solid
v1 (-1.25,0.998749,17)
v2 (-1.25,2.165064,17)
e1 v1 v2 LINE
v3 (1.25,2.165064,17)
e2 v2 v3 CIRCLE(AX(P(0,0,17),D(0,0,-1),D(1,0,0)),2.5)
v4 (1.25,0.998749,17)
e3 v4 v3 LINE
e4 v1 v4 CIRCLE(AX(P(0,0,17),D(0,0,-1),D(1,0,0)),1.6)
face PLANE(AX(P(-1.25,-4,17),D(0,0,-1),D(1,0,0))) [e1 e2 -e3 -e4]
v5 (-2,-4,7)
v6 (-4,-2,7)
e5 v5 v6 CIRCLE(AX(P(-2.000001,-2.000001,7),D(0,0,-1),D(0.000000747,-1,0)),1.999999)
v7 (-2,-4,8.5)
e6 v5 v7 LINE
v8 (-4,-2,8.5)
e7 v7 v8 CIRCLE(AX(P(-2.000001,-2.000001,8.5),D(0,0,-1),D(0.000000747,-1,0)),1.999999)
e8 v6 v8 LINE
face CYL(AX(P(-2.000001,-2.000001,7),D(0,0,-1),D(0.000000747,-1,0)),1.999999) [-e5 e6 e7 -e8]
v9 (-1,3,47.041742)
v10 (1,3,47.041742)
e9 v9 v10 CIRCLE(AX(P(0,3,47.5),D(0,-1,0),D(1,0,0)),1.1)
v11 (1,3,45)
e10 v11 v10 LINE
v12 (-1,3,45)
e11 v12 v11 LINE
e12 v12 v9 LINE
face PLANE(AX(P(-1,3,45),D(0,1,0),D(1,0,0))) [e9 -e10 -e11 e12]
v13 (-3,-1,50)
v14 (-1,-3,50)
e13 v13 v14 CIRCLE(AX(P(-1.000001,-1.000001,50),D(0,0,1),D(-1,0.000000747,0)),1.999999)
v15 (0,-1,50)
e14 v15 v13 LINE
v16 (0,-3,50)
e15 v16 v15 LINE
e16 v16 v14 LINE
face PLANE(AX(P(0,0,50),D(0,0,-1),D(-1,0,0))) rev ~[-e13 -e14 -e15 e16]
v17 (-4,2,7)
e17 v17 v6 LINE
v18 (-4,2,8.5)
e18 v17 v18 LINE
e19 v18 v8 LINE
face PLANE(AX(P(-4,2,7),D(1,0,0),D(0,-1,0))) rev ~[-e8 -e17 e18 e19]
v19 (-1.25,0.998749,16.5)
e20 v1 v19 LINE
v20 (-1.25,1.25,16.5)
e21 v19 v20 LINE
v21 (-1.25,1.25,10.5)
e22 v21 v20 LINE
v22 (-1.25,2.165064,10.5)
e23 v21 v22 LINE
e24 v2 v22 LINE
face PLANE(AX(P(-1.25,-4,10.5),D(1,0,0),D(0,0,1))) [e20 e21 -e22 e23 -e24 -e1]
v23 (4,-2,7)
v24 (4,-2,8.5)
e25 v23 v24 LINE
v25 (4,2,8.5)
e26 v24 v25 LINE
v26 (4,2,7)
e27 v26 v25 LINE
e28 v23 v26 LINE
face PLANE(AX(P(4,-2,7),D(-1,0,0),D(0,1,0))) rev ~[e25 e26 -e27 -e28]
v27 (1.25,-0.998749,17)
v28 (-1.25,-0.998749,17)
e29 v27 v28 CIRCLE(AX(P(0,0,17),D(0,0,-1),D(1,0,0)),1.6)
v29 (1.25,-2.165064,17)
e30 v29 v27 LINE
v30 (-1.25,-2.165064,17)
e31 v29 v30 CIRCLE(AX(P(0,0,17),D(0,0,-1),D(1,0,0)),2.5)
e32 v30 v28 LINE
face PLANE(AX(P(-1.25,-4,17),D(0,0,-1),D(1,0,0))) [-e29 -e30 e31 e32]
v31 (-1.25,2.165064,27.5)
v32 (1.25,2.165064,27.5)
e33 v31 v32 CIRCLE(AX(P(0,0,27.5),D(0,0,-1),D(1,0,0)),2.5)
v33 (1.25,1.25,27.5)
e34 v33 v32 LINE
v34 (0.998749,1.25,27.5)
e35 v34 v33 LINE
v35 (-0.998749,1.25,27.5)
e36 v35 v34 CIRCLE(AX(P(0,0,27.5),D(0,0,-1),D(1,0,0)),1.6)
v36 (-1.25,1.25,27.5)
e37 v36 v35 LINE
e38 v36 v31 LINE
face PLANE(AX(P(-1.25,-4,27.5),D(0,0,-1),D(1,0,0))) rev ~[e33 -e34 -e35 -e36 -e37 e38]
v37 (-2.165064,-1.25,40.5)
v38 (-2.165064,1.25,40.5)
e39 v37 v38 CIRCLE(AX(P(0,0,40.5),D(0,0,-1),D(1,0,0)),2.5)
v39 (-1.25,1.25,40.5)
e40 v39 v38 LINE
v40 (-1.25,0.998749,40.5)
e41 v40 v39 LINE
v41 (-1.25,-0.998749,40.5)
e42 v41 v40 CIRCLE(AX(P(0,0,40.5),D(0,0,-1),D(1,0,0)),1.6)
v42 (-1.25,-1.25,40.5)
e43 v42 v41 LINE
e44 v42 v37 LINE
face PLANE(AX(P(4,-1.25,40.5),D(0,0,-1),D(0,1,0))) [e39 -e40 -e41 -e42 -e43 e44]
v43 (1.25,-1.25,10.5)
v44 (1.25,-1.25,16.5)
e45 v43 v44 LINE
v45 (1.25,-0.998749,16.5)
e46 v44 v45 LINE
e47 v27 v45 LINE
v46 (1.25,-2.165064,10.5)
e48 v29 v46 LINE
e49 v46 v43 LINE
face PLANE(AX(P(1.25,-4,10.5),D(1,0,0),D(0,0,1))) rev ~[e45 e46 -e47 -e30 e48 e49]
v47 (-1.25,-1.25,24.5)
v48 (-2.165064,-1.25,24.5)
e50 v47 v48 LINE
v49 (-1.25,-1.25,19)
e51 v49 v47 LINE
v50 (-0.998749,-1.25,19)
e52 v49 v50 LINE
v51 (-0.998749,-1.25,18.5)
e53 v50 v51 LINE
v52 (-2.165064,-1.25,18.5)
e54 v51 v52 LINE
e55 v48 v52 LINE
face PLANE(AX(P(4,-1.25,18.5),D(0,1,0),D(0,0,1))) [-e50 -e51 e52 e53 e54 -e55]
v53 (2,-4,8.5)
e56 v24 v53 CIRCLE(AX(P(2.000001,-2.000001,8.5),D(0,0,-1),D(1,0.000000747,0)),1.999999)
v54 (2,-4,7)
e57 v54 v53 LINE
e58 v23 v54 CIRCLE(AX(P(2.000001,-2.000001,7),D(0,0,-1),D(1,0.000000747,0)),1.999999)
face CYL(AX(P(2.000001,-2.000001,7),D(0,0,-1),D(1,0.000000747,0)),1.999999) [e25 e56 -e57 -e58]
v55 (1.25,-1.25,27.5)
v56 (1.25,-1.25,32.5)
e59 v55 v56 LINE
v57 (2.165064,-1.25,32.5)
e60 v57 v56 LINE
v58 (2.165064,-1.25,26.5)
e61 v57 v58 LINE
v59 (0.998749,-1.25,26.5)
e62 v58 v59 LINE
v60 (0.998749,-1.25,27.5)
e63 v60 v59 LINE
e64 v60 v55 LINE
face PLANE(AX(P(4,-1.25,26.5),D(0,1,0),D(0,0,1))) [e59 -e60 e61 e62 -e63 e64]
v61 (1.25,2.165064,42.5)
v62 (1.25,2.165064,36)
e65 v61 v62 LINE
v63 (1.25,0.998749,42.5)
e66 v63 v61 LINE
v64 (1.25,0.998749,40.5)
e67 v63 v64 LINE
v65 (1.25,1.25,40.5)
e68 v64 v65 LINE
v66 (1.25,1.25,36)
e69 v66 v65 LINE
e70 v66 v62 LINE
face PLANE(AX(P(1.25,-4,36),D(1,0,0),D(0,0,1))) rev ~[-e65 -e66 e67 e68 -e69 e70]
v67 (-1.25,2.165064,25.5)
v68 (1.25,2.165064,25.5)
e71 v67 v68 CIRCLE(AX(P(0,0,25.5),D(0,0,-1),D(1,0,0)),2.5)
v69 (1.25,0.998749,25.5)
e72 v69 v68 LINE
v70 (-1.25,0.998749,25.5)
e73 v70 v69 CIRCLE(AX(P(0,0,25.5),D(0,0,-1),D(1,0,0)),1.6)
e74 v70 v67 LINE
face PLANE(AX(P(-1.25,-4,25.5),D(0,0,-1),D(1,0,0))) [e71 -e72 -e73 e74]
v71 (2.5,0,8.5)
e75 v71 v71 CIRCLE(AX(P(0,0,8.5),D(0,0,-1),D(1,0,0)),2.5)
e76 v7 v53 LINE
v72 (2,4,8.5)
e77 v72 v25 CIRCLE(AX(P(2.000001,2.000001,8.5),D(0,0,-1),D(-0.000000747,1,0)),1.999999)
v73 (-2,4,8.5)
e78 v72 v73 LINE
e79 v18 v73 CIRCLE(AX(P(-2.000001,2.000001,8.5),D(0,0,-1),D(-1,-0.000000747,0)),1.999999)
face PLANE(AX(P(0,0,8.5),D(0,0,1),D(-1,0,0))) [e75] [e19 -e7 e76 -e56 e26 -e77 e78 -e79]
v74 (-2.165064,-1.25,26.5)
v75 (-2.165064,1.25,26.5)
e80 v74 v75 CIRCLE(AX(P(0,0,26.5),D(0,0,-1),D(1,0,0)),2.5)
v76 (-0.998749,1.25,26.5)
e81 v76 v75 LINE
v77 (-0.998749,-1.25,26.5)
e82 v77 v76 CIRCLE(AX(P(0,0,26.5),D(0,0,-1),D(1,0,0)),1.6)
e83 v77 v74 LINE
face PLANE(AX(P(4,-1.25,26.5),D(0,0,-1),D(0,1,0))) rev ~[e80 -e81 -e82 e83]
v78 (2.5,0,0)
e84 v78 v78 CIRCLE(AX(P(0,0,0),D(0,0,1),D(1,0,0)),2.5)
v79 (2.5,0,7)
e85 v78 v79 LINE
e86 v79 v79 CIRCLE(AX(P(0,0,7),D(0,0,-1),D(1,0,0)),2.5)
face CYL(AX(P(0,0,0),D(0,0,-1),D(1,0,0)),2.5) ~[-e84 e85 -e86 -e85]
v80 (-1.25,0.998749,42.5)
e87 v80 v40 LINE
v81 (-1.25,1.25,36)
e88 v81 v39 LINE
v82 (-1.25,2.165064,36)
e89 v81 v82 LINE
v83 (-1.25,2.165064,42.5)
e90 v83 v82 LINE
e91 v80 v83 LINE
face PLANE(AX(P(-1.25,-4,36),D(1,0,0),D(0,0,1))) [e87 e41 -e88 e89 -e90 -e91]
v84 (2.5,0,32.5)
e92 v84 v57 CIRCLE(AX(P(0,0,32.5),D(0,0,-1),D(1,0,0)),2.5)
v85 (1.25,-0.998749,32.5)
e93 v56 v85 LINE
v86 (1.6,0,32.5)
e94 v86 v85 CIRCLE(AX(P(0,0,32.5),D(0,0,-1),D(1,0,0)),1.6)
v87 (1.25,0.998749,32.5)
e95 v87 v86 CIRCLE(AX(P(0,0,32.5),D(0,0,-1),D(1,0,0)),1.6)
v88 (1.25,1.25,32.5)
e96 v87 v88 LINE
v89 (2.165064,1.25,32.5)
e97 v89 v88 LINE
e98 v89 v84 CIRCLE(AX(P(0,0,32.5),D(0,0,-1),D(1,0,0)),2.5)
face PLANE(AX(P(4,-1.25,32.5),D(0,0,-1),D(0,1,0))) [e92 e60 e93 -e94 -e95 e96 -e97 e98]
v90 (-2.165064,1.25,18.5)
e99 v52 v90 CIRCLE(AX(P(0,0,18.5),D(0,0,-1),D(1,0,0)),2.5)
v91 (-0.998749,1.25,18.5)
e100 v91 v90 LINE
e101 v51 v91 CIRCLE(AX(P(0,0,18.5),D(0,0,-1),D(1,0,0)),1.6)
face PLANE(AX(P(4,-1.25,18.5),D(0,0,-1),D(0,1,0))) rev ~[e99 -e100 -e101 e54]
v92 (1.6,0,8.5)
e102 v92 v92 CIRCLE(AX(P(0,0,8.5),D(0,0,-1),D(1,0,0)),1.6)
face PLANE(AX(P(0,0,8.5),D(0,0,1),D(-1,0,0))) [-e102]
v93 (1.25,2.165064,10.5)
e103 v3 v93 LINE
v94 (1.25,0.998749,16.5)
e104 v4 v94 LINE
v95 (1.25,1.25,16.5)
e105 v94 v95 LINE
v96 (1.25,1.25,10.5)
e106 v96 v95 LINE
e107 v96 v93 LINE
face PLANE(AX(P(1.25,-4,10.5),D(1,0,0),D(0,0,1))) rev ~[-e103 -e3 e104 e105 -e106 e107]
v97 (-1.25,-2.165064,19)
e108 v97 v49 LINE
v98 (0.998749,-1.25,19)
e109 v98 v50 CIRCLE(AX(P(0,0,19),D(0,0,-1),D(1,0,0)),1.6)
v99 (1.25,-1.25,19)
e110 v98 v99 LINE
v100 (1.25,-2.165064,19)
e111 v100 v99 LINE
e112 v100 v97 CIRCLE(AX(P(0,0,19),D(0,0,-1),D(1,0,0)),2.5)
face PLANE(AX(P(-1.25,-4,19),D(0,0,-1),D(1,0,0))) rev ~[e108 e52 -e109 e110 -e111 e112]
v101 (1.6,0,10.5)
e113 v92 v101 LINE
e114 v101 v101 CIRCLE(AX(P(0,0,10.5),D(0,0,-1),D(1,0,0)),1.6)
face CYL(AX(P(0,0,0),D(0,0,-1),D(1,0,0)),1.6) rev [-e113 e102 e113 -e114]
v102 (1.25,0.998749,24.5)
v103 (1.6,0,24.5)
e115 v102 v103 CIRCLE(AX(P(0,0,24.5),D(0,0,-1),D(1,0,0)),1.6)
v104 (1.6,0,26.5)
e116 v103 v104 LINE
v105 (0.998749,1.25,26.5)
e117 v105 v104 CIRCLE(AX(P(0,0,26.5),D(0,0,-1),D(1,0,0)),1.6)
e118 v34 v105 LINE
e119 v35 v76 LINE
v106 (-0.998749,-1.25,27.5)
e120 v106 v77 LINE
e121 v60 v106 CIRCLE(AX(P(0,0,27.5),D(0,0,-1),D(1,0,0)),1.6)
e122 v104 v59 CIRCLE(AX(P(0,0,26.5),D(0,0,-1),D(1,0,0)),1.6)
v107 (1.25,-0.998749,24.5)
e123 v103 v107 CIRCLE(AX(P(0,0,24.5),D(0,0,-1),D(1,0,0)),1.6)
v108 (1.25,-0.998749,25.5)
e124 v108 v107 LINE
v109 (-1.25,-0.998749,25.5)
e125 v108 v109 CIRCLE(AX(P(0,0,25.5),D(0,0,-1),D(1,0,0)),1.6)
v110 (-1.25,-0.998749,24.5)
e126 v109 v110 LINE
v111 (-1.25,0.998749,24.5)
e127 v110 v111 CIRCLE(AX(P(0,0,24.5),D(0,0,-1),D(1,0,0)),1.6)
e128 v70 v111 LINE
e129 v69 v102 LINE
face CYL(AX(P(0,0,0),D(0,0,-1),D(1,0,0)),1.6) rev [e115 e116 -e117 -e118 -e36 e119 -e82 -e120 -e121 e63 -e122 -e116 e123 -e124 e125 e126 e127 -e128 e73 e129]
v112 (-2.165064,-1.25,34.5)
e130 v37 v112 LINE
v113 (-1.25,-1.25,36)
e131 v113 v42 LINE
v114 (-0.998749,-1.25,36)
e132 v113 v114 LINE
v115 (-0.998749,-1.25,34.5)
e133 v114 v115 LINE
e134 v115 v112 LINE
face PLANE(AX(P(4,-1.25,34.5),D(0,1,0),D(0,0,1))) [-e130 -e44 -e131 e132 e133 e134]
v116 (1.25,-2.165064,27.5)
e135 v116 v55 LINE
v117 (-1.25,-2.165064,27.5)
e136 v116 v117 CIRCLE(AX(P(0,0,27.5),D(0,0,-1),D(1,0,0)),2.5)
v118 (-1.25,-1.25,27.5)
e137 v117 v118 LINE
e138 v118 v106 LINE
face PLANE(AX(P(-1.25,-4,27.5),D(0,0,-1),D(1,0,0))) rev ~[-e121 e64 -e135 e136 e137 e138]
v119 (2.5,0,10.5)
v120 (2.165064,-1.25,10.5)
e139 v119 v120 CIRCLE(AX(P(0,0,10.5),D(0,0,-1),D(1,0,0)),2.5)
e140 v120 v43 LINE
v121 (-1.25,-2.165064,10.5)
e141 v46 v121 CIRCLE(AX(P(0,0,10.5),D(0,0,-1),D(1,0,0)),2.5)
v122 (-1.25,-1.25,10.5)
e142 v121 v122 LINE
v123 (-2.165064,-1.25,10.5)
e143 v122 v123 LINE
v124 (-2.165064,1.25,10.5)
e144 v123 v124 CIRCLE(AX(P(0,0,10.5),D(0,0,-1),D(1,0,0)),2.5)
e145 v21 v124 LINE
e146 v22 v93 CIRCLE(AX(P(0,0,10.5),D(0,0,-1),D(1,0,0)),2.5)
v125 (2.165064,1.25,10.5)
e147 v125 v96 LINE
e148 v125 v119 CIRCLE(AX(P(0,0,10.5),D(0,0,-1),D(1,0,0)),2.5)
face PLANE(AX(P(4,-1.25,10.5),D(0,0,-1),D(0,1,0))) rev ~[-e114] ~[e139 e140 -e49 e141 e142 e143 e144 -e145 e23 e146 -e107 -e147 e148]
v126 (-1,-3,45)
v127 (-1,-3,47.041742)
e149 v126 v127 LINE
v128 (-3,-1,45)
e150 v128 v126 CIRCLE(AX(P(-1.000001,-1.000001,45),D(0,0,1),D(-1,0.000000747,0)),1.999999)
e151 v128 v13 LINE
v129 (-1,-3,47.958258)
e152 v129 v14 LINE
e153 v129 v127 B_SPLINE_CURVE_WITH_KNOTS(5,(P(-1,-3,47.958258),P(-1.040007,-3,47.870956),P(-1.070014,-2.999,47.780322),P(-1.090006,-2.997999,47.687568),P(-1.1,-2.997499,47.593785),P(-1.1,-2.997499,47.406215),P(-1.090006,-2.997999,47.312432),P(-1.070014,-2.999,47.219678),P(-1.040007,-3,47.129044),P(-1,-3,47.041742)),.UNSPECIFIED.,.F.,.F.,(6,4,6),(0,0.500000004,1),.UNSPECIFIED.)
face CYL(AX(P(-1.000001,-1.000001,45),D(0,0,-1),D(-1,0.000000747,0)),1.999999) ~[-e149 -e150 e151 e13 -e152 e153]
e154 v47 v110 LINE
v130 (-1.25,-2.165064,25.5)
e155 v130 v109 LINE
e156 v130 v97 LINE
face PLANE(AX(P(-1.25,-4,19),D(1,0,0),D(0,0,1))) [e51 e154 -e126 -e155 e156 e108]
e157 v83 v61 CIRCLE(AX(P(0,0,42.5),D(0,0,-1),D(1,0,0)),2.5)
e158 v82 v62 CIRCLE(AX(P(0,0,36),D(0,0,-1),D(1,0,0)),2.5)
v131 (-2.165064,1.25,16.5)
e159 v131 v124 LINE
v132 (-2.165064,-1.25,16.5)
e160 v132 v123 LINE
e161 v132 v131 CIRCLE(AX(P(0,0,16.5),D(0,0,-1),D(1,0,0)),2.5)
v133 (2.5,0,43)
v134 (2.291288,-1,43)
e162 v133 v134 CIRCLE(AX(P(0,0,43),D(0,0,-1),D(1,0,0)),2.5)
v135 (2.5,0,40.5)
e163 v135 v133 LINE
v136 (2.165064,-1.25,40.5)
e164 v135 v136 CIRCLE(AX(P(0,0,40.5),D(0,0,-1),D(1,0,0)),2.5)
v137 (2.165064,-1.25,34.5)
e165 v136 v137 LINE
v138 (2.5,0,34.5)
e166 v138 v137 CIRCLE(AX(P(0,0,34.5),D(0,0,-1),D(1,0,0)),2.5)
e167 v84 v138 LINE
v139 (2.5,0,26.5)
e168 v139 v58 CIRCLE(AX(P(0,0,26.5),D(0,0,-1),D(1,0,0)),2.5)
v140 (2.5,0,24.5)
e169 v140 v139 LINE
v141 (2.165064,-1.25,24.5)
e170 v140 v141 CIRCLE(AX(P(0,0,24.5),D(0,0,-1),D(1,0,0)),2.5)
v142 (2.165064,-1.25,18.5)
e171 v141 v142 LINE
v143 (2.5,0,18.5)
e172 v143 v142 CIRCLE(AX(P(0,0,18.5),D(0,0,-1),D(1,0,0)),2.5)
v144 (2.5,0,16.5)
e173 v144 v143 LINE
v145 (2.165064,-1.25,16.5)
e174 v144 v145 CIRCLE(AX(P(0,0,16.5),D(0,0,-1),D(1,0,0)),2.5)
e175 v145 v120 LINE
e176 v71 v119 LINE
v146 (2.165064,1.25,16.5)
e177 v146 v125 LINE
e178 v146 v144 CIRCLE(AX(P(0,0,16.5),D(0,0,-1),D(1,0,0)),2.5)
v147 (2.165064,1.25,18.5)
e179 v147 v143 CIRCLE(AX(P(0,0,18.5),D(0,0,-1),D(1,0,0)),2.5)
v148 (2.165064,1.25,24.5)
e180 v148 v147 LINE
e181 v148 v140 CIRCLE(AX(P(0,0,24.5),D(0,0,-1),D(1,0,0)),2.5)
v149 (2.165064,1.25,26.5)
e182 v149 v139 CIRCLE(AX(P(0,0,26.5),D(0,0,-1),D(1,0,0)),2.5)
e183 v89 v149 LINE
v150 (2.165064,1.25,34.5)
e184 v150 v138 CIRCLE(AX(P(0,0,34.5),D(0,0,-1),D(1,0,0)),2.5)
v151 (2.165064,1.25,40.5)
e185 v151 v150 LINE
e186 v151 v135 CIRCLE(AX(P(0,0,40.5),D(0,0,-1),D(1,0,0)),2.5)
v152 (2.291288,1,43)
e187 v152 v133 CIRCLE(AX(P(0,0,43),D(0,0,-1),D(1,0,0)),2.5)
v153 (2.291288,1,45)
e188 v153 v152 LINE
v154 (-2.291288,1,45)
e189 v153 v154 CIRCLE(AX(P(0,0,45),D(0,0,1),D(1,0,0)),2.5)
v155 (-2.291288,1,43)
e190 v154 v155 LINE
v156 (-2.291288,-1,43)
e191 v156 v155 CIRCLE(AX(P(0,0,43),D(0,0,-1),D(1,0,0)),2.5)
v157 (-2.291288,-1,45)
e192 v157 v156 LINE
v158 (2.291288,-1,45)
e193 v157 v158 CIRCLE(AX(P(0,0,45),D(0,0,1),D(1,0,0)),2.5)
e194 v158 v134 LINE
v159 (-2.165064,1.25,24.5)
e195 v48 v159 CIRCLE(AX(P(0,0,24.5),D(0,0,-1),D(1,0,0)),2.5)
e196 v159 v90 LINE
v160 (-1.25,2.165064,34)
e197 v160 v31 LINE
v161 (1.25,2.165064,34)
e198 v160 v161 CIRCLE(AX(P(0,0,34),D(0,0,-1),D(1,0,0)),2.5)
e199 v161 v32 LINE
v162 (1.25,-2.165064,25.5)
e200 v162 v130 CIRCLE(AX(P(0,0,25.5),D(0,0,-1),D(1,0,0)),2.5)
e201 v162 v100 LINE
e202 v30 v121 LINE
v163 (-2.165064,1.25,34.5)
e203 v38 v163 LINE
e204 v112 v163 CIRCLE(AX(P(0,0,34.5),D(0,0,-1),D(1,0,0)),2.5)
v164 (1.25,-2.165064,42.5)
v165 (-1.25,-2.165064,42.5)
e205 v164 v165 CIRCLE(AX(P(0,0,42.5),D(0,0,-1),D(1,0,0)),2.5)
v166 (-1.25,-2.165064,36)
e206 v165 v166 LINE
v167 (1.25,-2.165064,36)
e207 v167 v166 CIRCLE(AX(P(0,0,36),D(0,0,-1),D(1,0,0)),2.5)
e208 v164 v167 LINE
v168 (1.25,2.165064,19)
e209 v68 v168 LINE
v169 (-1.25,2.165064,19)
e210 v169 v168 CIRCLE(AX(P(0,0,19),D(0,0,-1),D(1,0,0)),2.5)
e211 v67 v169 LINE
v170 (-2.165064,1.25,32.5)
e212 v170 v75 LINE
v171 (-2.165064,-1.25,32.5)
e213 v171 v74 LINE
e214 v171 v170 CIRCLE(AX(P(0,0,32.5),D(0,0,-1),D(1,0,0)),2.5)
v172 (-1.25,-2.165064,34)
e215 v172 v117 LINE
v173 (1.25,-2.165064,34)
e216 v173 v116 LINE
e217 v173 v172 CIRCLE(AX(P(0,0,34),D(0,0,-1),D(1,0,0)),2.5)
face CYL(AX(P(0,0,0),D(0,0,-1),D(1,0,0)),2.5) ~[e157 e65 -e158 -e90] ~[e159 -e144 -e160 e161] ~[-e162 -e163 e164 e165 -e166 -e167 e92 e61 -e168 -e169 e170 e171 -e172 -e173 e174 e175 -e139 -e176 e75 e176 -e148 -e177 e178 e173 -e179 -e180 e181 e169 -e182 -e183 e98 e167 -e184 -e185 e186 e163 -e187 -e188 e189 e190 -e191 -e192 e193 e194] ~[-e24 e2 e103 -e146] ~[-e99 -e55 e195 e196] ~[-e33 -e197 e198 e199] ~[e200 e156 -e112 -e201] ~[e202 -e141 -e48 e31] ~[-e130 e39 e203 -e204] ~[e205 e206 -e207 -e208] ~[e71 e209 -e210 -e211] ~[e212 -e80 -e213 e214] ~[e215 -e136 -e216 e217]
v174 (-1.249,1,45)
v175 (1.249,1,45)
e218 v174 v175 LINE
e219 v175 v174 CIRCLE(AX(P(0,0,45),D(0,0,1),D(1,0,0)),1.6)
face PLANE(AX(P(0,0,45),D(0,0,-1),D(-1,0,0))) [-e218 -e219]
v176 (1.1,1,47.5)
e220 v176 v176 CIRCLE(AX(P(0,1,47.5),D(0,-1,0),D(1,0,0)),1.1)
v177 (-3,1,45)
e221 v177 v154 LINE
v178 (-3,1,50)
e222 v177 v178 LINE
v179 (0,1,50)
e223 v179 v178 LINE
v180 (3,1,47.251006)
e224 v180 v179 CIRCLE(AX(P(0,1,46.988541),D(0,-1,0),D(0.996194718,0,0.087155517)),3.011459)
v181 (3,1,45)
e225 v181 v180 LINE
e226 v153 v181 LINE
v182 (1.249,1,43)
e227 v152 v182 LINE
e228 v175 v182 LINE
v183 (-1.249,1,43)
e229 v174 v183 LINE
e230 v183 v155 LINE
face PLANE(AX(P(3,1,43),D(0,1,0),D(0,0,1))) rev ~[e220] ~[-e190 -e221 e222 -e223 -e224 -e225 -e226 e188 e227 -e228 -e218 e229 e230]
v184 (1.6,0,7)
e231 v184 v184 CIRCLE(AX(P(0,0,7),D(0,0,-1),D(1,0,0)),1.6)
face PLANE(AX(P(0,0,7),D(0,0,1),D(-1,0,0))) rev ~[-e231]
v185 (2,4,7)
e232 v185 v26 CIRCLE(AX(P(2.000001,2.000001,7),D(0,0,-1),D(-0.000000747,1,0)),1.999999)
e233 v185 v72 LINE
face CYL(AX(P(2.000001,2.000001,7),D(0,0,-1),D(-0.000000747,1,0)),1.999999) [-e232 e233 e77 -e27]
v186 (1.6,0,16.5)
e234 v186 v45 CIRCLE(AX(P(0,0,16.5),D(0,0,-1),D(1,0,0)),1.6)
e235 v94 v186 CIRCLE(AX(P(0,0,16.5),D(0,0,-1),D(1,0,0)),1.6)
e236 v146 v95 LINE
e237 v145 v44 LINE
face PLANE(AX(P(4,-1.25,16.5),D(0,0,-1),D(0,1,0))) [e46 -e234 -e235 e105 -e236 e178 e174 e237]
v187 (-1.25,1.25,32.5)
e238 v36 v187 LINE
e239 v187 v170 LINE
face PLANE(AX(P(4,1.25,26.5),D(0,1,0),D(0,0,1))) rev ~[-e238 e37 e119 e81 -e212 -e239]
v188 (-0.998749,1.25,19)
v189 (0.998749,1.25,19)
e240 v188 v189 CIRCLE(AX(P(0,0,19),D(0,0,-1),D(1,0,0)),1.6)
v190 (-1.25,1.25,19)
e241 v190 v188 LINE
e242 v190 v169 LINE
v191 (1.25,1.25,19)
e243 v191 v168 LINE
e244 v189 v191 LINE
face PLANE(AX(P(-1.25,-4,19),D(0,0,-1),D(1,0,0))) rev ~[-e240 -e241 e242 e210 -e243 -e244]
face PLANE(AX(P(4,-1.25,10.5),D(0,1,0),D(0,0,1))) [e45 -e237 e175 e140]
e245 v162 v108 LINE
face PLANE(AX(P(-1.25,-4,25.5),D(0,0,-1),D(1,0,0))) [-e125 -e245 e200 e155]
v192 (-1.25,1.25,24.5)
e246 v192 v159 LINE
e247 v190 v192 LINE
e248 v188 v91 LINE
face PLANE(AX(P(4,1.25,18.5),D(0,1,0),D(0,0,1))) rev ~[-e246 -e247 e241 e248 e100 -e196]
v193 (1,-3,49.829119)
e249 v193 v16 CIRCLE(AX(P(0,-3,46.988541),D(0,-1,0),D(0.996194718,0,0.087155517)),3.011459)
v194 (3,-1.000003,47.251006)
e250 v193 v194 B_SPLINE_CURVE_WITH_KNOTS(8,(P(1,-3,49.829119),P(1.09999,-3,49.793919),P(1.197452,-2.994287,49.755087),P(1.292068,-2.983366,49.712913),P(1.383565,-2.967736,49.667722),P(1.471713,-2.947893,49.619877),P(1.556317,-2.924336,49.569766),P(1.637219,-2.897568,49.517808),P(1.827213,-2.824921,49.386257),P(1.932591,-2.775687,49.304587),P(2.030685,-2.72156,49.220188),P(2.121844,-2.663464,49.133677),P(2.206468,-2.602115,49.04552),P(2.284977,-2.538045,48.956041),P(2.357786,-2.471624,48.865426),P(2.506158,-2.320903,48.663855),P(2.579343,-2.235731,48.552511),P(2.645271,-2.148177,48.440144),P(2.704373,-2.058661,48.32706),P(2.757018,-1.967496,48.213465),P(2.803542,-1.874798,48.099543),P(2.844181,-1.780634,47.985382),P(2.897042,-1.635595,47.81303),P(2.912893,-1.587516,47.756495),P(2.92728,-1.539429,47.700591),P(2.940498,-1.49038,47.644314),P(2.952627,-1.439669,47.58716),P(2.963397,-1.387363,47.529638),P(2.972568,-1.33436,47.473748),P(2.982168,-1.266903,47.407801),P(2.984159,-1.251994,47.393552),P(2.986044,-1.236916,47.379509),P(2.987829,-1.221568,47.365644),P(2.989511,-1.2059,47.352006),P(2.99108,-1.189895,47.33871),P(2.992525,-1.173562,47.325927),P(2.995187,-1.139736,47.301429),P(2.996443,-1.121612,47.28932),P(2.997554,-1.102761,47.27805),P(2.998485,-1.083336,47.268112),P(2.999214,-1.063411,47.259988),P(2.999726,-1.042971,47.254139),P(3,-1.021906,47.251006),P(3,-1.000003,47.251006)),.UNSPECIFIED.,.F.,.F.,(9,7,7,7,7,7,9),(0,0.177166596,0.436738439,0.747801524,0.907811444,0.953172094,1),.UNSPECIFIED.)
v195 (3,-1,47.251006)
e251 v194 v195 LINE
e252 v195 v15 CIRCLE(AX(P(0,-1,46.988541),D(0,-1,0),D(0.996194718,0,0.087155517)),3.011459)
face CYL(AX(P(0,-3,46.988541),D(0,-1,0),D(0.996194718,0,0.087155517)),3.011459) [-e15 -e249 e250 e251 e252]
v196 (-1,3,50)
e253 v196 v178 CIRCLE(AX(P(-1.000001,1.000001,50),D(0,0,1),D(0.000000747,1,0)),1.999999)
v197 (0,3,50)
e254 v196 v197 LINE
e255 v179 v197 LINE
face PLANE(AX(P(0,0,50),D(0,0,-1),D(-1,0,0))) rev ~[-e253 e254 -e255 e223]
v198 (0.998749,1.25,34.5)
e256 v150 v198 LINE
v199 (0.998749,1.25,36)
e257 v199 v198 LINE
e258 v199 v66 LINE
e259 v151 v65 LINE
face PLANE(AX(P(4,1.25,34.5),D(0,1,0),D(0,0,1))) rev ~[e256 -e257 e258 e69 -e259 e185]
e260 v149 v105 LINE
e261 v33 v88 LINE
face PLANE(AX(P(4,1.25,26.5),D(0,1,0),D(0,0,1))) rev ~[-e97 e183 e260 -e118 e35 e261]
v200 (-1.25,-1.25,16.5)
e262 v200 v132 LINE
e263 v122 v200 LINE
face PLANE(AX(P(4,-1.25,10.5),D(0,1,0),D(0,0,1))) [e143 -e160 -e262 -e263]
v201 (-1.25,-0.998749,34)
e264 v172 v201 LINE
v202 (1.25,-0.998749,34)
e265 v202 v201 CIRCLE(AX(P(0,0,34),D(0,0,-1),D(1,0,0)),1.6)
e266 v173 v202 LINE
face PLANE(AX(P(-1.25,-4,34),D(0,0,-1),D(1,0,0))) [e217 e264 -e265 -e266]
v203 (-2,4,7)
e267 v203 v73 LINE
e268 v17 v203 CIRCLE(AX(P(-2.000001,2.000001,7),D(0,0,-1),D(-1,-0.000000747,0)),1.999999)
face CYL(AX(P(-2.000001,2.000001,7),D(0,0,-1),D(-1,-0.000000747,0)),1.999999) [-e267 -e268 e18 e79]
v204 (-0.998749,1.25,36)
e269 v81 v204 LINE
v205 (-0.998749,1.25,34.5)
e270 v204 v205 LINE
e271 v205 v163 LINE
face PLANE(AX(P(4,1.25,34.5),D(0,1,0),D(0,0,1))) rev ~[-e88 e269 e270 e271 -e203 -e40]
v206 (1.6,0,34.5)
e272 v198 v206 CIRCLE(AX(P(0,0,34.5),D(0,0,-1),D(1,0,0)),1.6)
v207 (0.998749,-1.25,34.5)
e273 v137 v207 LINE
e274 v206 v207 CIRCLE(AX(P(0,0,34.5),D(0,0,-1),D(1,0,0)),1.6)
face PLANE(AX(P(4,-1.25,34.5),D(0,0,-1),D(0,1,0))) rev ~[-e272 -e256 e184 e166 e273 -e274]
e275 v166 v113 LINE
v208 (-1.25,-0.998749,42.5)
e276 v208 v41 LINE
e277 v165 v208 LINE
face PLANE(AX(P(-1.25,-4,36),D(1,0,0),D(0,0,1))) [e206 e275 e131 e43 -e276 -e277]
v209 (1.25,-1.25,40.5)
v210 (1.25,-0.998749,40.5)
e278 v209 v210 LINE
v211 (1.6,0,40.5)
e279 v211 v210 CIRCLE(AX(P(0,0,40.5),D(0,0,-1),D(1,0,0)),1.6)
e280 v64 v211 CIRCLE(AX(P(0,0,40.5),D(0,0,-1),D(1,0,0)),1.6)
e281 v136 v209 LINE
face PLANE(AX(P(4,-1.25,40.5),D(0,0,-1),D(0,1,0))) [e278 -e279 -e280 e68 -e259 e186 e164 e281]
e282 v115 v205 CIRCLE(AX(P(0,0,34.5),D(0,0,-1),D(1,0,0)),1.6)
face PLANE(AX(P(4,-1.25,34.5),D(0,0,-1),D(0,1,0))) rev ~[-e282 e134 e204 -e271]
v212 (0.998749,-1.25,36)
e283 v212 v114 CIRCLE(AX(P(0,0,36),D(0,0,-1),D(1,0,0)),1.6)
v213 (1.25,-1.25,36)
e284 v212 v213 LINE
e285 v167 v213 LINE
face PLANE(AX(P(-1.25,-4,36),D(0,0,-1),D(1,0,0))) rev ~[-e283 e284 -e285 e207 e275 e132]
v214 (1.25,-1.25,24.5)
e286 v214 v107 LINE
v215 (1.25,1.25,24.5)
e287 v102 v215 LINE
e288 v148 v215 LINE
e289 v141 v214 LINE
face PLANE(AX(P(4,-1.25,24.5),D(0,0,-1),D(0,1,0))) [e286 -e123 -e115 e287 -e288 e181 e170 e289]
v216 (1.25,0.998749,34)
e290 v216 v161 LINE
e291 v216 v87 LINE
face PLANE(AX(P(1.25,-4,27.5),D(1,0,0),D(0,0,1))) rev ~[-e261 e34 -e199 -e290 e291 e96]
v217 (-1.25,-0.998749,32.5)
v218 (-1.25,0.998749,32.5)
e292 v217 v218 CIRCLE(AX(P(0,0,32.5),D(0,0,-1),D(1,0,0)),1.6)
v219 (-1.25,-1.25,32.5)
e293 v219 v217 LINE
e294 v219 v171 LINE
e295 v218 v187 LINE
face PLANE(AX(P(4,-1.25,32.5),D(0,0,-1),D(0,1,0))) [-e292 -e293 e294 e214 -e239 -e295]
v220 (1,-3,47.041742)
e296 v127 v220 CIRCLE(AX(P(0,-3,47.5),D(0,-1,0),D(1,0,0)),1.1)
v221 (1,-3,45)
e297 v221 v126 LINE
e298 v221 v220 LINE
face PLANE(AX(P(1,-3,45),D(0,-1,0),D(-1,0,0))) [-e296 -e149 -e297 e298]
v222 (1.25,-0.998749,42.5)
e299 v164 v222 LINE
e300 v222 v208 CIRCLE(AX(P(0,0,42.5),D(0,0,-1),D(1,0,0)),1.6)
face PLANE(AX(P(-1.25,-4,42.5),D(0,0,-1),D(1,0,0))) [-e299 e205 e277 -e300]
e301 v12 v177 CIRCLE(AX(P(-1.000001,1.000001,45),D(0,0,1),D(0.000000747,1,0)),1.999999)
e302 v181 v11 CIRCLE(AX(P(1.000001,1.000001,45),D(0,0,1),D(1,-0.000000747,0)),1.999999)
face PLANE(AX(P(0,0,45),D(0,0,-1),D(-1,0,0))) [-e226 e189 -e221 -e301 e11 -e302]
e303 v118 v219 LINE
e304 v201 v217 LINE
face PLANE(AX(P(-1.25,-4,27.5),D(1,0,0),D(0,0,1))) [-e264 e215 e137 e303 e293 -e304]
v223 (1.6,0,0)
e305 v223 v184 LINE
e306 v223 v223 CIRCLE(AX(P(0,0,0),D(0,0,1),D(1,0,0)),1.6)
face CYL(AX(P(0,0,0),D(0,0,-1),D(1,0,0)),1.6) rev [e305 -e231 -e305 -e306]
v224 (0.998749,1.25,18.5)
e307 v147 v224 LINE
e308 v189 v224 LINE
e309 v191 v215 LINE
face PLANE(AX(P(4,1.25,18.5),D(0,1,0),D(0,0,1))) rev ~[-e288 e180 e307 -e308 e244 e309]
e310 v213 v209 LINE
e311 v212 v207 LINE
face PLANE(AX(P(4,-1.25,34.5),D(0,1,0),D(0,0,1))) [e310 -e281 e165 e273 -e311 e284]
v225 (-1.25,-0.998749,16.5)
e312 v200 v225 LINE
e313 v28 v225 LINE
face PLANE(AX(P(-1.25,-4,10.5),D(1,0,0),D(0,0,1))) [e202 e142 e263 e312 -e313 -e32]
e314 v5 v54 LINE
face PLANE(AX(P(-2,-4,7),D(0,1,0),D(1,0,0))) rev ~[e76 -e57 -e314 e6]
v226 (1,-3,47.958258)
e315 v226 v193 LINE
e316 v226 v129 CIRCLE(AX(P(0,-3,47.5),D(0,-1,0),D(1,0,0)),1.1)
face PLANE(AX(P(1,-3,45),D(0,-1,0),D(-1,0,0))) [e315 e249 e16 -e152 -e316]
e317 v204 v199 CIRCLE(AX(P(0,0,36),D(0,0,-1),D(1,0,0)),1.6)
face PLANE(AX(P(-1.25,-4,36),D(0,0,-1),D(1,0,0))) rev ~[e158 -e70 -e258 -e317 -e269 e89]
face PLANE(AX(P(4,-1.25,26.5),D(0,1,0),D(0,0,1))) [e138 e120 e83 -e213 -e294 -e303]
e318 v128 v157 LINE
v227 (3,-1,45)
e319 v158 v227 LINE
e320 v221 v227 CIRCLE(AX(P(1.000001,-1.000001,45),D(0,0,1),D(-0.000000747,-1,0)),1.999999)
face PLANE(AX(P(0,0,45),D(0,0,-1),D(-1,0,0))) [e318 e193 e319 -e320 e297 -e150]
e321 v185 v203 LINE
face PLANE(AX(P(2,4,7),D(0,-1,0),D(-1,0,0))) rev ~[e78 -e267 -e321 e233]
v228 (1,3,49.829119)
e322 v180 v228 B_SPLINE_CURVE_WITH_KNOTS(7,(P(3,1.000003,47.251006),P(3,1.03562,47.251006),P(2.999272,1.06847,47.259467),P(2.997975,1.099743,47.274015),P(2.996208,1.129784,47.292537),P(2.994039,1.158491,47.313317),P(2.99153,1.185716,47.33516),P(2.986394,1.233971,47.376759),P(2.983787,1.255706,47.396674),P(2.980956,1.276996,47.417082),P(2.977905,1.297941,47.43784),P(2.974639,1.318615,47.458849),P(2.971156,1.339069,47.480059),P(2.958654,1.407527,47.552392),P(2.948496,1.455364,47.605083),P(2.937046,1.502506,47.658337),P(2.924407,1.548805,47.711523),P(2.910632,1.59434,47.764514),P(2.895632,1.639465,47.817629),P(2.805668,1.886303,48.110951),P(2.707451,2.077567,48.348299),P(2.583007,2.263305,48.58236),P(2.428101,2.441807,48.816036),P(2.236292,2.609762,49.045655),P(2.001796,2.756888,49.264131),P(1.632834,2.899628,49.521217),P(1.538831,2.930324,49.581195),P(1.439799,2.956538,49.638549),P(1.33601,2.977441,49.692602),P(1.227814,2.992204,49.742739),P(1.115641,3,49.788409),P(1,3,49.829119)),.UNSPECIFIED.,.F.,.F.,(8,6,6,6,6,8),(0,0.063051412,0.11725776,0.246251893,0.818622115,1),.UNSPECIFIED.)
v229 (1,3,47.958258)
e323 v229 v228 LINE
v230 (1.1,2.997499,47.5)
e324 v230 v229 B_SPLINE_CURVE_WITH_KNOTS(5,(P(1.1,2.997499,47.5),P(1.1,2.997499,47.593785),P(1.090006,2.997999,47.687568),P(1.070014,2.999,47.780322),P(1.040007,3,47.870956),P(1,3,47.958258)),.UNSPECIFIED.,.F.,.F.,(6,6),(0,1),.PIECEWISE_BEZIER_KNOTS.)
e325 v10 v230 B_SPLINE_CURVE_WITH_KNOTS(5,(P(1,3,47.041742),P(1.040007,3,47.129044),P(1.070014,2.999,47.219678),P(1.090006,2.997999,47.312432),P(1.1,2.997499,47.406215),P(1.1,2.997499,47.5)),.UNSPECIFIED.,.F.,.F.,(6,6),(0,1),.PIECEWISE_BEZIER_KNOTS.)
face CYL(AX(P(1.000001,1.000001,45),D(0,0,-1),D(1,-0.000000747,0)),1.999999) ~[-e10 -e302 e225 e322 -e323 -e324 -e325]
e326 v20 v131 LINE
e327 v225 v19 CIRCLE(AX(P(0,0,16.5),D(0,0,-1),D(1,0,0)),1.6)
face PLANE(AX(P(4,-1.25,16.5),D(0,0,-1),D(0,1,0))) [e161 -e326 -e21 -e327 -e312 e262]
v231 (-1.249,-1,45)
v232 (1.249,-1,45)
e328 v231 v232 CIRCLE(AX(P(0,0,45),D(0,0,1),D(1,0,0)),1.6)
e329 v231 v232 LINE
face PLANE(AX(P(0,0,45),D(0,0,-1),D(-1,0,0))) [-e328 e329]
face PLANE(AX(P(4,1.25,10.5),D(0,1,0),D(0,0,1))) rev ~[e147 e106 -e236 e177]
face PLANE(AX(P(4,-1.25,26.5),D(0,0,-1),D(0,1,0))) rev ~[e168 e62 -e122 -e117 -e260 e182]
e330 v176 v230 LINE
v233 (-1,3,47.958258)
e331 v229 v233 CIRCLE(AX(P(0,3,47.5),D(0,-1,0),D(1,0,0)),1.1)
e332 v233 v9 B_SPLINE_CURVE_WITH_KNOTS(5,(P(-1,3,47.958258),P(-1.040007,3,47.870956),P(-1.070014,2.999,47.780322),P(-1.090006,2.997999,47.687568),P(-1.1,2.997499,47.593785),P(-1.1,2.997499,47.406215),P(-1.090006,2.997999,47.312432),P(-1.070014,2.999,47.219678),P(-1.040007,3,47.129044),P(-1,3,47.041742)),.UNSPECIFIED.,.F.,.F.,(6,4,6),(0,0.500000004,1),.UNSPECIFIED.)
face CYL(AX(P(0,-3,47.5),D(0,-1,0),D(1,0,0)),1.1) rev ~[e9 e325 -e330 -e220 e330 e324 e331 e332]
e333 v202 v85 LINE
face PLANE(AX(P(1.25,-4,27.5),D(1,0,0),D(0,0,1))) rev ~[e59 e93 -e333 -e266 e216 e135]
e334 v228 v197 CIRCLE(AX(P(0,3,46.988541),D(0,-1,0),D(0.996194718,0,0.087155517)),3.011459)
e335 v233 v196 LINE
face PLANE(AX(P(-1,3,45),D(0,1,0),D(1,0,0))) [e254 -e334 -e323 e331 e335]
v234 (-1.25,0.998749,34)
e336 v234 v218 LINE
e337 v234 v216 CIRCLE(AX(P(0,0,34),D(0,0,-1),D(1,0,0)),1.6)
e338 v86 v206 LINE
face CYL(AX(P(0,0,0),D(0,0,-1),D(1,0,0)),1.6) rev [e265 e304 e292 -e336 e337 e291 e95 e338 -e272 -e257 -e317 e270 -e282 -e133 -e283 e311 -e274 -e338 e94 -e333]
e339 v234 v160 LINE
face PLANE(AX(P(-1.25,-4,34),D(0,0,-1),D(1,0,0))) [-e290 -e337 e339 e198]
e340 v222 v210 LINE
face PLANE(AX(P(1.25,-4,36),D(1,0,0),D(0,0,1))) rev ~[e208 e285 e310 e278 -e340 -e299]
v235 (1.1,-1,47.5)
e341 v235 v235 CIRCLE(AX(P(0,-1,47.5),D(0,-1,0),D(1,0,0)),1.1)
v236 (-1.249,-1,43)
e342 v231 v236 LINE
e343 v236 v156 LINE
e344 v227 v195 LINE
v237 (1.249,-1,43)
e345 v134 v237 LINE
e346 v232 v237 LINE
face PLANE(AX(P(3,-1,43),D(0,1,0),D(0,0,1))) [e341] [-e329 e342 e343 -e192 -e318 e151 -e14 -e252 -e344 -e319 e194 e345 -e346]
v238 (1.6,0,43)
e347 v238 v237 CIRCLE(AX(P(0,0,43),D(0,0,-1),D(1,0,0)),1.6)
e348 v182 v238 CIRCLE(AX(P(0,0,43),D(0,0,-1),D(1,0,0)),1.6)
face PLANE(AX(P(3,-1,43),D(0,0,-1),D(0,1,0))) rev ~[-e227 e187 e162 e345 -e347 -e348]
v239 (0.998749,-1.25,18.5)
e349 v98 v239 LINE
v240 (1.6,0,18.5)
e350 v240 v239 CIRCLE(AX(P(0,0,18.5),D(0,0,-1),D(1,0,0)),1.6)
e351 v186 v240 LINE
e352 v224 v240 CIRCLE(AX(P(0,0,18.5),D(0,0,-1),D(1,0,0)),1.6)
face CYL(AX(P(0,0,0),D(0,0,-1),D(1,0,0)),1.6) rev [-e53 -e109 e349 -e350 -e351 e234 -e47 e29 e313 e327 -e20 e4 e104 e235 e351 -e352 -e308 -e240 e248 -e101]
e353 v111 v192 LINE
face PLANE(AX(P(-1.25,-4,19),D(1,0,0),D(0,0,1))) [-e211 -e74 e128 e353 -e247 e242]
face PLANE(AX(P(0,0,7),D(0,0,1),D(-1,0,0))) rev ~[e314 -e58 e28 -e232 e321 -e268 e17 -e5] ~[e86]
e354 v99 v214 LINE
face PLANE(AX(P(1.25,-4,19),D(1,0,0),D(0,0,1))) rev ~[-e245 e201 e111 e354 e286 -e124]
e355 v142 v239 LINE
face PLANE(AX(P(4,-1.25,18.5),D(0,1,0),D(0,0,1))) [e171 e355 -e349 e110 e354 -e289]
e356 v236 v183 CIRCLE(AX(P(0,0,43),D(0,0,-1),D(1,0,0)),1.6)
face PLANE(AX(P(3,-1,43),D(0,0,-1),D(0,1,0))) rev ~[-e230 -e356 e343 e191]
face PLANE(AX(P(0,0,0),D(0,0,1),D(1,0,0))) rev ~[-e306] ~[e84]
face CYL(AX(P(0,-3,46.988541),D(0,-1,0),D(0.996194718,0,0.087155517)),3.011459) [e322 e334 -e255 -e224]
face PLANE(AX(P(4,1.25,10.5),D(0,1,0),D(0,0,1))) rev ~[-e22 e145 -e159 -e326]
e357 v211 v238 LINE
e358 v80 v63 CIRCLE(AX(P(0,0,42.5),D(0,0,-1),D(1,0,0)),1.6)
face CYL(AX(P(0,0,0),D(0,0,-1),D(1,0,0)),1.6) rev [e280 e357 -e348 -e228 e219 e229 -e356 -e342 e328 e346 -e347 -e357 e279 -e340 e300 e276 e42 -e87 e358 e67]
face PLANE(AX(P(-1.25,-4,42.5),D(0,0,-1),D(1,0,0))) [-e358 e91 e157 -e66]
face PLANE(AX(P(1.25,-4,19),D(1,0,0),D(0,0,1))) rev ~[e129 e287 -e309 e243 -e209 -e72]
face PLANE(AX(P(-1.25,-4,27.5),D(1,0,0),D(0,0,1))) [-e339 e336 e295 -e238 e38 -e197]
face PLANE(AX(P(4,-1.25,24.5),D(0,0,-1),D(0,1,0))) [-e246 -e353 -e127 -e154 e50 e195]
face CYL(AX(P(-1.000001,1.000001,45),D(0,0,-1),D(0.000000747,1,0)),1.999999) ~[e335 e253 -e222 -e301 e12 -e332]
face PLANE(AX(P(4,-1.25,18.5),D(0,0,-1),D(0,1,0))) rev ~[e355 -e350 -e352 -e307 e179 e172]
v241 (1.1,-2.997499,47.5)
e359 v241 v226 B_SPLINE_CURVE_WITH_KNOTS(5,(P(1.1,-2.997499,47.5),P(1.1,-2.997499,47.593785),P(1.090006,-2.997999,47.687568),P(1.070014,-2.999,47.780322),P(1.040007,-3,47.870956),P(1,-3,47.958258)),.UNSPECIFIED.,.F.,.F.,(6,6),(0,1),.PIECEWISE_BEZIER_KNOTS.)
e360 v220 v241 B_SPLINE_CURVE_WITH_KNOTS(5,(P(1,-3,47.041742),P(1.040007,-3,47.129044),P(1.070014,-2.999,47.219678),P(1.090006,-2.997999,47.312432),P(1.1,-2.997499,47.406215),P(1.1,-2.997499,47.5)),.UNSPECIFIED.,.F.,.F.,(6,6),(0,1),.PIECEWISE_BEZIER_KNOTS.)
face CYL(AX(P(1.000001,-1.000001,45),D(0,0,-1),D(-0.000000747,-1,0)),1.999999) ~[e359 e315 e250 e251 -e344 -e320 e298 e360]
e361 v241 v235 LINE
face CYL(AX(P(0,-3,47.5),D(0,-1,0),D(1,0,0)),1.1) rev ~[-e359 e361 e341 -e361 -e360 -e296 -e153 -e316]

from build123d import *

# Parameters (mm, degrees)
SKETCH_R        = 2.5
SKETCH_R_2      = 1.6
PAD_DEPTH       = 45
PAD001_DEPTH    = 1.5
PAD002_DEPTH    = 5
SKETCH003_W     = 2
SKETCH003_H     = 7
POCKET_DEPTH    = 7.001
SKETCH004_R     = 1.1
POCKET001_DEPTH = 7.001
SKETCH006_W     = 2.5
SKETCH006_H     = 6.5
POCKET002_DEPTH = 8.001
SKETCH005_W     = 2.5
SKETCH005_H     = 6
POCKET003_DEPTH = 8.001
POCKET004_DEPTH = 7.001


with BuildPart() as part:
    # Sketch → Pad (new body)
    with BuildSketch(Plane.XY):
        Circle(SKETCH_R)
        Circle(SKETCH_R_2, mode=Mode.SUBTRACT)
    extrude(amount=PAD_DEPTH)

    # Sketch001 (on Face3 of Pad) → Pad001 (join)
    with BuildSketch(Plane(origin=(0, 0, 7), x_dir=(1, 0, 0), z_dir=(0, 0, -1))):
        with BuildLine():
            Line((-2, 4), (2, 4))
            ThreePointArc((4, 2), (3.414214, 3.414214), (2, 4))
            Line((4, 2), (4, -2))
            ThreePointArc((2, -4), (3.414214, -3.414214), (4, -2))
            Line((2, -4), (-2, -4))
            ThreePointArc((-4, -2), (-3.414214, -3.414214), (-2, -4))
            Line((-4, -2), (-4, 2))
            ThreePointArc((-2, 4), (-3.414214, 3.414214), (-4, 2))
        make_face()
    extrude(amount=-PAD001_DEPTH)

    # Sketch002 (on Face16 of Pad001) → Pad002 (join)
    with BuildSketch(Plane.XY.offset(45)):
        with BuildLine():
            Line((-1, 3), (1, 3))
            ThreePointArc((3, 1), (2.414214, 2.414214), (1, 3))
            Line((3, 1), (3, -1))
            ThreePointArc((1, -3), (2.414214, -2.414214), (3, -1))
            Line((1, -3), (-1, -3))
            ThreePointArc((-3, -1), (-2.414214, -2.414214), (-1, -3))
            Line((-3, -1), (-3, 1))
            ThreePointArc((-1, 3), (-2.414214, 2.414214), (-3, 1))
        make_face()
    extrude(amount=PAD002_DEPTH)

    # Sketch003 (on Face10 of Pad002) → Pocket (cut, through all)
    with BuildSketch(Plane.YZ.offset(3)):
        with Locations((0, 46.5)):
            Rectangle(SKETCH003_W, SKETCH003_H)
    extrude(amount=-POCKET_DEPTH, mode=Mode.SUBTRACT)

    # Sketch004 (on Face3 of Pocket) → Pocket001 (cut, through all)
    with BuildSketch(Plane.XZ.offset(3)):
        with Locations((0, 47.5)):
            Circle(SKETCH004_R)
    extrude(amount=-POCKET001_DEPTH, mode=Mode.SUBTRACT)

    # Sketch006 (on Face28 of Pocket001) → Pocket002 (cut, through all)
    with BuildSketch(Plane.XZ.offset(4)):
        with Locations((0, 13.75)):
            Rectangle(SKETCH006_W, SKETCH006_H)
        with Locations((0, 22.25)):
            Rectangle(SKETCH006_W, SKETCH006_H)
        with Locations((0, 30.75)):
            Rectangle(SKETCH006_W, SKETCH006_H)
        with Locations((0, 39.25)):
            Rectangle(SKETCH006_W, SKETCH006_H)
    extrude(amount=-POCKET002_DEPTH, mode=Mode.SUBTRACT)

    # Sketch005 (on Face31 of Pocket001) → Pocket003 (cut, through all)
    with BuildSketch(Plane.YZ.offset(4)):
        with Locations((0, 13.5)):
            Rectangle(SKETCH005_W, SKETCH005_H)
        with Locations((0, 21.5)):
            Rectangle(SKETCH005_W, SKETCH005_H)
        with Locations((0, 29.5)):
            Rectangle(SKETCH005_W, SKETCH005_H)
        with Locations((0, 37.5)):
            Rectangle(SKETCH005_W, SKETCH005_H)
    extrude(amount=-POCKET003_DEPTH, mode=Mode.SUBTRACT)

    # Sketch007 (on Face5 of Pocket003) → Pocket004 (cut, through all)
    with BuildSketch(Plane.XZ.offset(3)):
        with BuildLine():
            ThreePointArc((3, 47.251006), (2.034513, 49.208821), (0, 50))
            Line((0, 50), (3, 50))
            Line((3, 47.251006), (3, 50))
        make_face()
    extrude(amount=-POCKET004_DEPTH, mode=Mode.SUBTRACT)


solid = part.part
